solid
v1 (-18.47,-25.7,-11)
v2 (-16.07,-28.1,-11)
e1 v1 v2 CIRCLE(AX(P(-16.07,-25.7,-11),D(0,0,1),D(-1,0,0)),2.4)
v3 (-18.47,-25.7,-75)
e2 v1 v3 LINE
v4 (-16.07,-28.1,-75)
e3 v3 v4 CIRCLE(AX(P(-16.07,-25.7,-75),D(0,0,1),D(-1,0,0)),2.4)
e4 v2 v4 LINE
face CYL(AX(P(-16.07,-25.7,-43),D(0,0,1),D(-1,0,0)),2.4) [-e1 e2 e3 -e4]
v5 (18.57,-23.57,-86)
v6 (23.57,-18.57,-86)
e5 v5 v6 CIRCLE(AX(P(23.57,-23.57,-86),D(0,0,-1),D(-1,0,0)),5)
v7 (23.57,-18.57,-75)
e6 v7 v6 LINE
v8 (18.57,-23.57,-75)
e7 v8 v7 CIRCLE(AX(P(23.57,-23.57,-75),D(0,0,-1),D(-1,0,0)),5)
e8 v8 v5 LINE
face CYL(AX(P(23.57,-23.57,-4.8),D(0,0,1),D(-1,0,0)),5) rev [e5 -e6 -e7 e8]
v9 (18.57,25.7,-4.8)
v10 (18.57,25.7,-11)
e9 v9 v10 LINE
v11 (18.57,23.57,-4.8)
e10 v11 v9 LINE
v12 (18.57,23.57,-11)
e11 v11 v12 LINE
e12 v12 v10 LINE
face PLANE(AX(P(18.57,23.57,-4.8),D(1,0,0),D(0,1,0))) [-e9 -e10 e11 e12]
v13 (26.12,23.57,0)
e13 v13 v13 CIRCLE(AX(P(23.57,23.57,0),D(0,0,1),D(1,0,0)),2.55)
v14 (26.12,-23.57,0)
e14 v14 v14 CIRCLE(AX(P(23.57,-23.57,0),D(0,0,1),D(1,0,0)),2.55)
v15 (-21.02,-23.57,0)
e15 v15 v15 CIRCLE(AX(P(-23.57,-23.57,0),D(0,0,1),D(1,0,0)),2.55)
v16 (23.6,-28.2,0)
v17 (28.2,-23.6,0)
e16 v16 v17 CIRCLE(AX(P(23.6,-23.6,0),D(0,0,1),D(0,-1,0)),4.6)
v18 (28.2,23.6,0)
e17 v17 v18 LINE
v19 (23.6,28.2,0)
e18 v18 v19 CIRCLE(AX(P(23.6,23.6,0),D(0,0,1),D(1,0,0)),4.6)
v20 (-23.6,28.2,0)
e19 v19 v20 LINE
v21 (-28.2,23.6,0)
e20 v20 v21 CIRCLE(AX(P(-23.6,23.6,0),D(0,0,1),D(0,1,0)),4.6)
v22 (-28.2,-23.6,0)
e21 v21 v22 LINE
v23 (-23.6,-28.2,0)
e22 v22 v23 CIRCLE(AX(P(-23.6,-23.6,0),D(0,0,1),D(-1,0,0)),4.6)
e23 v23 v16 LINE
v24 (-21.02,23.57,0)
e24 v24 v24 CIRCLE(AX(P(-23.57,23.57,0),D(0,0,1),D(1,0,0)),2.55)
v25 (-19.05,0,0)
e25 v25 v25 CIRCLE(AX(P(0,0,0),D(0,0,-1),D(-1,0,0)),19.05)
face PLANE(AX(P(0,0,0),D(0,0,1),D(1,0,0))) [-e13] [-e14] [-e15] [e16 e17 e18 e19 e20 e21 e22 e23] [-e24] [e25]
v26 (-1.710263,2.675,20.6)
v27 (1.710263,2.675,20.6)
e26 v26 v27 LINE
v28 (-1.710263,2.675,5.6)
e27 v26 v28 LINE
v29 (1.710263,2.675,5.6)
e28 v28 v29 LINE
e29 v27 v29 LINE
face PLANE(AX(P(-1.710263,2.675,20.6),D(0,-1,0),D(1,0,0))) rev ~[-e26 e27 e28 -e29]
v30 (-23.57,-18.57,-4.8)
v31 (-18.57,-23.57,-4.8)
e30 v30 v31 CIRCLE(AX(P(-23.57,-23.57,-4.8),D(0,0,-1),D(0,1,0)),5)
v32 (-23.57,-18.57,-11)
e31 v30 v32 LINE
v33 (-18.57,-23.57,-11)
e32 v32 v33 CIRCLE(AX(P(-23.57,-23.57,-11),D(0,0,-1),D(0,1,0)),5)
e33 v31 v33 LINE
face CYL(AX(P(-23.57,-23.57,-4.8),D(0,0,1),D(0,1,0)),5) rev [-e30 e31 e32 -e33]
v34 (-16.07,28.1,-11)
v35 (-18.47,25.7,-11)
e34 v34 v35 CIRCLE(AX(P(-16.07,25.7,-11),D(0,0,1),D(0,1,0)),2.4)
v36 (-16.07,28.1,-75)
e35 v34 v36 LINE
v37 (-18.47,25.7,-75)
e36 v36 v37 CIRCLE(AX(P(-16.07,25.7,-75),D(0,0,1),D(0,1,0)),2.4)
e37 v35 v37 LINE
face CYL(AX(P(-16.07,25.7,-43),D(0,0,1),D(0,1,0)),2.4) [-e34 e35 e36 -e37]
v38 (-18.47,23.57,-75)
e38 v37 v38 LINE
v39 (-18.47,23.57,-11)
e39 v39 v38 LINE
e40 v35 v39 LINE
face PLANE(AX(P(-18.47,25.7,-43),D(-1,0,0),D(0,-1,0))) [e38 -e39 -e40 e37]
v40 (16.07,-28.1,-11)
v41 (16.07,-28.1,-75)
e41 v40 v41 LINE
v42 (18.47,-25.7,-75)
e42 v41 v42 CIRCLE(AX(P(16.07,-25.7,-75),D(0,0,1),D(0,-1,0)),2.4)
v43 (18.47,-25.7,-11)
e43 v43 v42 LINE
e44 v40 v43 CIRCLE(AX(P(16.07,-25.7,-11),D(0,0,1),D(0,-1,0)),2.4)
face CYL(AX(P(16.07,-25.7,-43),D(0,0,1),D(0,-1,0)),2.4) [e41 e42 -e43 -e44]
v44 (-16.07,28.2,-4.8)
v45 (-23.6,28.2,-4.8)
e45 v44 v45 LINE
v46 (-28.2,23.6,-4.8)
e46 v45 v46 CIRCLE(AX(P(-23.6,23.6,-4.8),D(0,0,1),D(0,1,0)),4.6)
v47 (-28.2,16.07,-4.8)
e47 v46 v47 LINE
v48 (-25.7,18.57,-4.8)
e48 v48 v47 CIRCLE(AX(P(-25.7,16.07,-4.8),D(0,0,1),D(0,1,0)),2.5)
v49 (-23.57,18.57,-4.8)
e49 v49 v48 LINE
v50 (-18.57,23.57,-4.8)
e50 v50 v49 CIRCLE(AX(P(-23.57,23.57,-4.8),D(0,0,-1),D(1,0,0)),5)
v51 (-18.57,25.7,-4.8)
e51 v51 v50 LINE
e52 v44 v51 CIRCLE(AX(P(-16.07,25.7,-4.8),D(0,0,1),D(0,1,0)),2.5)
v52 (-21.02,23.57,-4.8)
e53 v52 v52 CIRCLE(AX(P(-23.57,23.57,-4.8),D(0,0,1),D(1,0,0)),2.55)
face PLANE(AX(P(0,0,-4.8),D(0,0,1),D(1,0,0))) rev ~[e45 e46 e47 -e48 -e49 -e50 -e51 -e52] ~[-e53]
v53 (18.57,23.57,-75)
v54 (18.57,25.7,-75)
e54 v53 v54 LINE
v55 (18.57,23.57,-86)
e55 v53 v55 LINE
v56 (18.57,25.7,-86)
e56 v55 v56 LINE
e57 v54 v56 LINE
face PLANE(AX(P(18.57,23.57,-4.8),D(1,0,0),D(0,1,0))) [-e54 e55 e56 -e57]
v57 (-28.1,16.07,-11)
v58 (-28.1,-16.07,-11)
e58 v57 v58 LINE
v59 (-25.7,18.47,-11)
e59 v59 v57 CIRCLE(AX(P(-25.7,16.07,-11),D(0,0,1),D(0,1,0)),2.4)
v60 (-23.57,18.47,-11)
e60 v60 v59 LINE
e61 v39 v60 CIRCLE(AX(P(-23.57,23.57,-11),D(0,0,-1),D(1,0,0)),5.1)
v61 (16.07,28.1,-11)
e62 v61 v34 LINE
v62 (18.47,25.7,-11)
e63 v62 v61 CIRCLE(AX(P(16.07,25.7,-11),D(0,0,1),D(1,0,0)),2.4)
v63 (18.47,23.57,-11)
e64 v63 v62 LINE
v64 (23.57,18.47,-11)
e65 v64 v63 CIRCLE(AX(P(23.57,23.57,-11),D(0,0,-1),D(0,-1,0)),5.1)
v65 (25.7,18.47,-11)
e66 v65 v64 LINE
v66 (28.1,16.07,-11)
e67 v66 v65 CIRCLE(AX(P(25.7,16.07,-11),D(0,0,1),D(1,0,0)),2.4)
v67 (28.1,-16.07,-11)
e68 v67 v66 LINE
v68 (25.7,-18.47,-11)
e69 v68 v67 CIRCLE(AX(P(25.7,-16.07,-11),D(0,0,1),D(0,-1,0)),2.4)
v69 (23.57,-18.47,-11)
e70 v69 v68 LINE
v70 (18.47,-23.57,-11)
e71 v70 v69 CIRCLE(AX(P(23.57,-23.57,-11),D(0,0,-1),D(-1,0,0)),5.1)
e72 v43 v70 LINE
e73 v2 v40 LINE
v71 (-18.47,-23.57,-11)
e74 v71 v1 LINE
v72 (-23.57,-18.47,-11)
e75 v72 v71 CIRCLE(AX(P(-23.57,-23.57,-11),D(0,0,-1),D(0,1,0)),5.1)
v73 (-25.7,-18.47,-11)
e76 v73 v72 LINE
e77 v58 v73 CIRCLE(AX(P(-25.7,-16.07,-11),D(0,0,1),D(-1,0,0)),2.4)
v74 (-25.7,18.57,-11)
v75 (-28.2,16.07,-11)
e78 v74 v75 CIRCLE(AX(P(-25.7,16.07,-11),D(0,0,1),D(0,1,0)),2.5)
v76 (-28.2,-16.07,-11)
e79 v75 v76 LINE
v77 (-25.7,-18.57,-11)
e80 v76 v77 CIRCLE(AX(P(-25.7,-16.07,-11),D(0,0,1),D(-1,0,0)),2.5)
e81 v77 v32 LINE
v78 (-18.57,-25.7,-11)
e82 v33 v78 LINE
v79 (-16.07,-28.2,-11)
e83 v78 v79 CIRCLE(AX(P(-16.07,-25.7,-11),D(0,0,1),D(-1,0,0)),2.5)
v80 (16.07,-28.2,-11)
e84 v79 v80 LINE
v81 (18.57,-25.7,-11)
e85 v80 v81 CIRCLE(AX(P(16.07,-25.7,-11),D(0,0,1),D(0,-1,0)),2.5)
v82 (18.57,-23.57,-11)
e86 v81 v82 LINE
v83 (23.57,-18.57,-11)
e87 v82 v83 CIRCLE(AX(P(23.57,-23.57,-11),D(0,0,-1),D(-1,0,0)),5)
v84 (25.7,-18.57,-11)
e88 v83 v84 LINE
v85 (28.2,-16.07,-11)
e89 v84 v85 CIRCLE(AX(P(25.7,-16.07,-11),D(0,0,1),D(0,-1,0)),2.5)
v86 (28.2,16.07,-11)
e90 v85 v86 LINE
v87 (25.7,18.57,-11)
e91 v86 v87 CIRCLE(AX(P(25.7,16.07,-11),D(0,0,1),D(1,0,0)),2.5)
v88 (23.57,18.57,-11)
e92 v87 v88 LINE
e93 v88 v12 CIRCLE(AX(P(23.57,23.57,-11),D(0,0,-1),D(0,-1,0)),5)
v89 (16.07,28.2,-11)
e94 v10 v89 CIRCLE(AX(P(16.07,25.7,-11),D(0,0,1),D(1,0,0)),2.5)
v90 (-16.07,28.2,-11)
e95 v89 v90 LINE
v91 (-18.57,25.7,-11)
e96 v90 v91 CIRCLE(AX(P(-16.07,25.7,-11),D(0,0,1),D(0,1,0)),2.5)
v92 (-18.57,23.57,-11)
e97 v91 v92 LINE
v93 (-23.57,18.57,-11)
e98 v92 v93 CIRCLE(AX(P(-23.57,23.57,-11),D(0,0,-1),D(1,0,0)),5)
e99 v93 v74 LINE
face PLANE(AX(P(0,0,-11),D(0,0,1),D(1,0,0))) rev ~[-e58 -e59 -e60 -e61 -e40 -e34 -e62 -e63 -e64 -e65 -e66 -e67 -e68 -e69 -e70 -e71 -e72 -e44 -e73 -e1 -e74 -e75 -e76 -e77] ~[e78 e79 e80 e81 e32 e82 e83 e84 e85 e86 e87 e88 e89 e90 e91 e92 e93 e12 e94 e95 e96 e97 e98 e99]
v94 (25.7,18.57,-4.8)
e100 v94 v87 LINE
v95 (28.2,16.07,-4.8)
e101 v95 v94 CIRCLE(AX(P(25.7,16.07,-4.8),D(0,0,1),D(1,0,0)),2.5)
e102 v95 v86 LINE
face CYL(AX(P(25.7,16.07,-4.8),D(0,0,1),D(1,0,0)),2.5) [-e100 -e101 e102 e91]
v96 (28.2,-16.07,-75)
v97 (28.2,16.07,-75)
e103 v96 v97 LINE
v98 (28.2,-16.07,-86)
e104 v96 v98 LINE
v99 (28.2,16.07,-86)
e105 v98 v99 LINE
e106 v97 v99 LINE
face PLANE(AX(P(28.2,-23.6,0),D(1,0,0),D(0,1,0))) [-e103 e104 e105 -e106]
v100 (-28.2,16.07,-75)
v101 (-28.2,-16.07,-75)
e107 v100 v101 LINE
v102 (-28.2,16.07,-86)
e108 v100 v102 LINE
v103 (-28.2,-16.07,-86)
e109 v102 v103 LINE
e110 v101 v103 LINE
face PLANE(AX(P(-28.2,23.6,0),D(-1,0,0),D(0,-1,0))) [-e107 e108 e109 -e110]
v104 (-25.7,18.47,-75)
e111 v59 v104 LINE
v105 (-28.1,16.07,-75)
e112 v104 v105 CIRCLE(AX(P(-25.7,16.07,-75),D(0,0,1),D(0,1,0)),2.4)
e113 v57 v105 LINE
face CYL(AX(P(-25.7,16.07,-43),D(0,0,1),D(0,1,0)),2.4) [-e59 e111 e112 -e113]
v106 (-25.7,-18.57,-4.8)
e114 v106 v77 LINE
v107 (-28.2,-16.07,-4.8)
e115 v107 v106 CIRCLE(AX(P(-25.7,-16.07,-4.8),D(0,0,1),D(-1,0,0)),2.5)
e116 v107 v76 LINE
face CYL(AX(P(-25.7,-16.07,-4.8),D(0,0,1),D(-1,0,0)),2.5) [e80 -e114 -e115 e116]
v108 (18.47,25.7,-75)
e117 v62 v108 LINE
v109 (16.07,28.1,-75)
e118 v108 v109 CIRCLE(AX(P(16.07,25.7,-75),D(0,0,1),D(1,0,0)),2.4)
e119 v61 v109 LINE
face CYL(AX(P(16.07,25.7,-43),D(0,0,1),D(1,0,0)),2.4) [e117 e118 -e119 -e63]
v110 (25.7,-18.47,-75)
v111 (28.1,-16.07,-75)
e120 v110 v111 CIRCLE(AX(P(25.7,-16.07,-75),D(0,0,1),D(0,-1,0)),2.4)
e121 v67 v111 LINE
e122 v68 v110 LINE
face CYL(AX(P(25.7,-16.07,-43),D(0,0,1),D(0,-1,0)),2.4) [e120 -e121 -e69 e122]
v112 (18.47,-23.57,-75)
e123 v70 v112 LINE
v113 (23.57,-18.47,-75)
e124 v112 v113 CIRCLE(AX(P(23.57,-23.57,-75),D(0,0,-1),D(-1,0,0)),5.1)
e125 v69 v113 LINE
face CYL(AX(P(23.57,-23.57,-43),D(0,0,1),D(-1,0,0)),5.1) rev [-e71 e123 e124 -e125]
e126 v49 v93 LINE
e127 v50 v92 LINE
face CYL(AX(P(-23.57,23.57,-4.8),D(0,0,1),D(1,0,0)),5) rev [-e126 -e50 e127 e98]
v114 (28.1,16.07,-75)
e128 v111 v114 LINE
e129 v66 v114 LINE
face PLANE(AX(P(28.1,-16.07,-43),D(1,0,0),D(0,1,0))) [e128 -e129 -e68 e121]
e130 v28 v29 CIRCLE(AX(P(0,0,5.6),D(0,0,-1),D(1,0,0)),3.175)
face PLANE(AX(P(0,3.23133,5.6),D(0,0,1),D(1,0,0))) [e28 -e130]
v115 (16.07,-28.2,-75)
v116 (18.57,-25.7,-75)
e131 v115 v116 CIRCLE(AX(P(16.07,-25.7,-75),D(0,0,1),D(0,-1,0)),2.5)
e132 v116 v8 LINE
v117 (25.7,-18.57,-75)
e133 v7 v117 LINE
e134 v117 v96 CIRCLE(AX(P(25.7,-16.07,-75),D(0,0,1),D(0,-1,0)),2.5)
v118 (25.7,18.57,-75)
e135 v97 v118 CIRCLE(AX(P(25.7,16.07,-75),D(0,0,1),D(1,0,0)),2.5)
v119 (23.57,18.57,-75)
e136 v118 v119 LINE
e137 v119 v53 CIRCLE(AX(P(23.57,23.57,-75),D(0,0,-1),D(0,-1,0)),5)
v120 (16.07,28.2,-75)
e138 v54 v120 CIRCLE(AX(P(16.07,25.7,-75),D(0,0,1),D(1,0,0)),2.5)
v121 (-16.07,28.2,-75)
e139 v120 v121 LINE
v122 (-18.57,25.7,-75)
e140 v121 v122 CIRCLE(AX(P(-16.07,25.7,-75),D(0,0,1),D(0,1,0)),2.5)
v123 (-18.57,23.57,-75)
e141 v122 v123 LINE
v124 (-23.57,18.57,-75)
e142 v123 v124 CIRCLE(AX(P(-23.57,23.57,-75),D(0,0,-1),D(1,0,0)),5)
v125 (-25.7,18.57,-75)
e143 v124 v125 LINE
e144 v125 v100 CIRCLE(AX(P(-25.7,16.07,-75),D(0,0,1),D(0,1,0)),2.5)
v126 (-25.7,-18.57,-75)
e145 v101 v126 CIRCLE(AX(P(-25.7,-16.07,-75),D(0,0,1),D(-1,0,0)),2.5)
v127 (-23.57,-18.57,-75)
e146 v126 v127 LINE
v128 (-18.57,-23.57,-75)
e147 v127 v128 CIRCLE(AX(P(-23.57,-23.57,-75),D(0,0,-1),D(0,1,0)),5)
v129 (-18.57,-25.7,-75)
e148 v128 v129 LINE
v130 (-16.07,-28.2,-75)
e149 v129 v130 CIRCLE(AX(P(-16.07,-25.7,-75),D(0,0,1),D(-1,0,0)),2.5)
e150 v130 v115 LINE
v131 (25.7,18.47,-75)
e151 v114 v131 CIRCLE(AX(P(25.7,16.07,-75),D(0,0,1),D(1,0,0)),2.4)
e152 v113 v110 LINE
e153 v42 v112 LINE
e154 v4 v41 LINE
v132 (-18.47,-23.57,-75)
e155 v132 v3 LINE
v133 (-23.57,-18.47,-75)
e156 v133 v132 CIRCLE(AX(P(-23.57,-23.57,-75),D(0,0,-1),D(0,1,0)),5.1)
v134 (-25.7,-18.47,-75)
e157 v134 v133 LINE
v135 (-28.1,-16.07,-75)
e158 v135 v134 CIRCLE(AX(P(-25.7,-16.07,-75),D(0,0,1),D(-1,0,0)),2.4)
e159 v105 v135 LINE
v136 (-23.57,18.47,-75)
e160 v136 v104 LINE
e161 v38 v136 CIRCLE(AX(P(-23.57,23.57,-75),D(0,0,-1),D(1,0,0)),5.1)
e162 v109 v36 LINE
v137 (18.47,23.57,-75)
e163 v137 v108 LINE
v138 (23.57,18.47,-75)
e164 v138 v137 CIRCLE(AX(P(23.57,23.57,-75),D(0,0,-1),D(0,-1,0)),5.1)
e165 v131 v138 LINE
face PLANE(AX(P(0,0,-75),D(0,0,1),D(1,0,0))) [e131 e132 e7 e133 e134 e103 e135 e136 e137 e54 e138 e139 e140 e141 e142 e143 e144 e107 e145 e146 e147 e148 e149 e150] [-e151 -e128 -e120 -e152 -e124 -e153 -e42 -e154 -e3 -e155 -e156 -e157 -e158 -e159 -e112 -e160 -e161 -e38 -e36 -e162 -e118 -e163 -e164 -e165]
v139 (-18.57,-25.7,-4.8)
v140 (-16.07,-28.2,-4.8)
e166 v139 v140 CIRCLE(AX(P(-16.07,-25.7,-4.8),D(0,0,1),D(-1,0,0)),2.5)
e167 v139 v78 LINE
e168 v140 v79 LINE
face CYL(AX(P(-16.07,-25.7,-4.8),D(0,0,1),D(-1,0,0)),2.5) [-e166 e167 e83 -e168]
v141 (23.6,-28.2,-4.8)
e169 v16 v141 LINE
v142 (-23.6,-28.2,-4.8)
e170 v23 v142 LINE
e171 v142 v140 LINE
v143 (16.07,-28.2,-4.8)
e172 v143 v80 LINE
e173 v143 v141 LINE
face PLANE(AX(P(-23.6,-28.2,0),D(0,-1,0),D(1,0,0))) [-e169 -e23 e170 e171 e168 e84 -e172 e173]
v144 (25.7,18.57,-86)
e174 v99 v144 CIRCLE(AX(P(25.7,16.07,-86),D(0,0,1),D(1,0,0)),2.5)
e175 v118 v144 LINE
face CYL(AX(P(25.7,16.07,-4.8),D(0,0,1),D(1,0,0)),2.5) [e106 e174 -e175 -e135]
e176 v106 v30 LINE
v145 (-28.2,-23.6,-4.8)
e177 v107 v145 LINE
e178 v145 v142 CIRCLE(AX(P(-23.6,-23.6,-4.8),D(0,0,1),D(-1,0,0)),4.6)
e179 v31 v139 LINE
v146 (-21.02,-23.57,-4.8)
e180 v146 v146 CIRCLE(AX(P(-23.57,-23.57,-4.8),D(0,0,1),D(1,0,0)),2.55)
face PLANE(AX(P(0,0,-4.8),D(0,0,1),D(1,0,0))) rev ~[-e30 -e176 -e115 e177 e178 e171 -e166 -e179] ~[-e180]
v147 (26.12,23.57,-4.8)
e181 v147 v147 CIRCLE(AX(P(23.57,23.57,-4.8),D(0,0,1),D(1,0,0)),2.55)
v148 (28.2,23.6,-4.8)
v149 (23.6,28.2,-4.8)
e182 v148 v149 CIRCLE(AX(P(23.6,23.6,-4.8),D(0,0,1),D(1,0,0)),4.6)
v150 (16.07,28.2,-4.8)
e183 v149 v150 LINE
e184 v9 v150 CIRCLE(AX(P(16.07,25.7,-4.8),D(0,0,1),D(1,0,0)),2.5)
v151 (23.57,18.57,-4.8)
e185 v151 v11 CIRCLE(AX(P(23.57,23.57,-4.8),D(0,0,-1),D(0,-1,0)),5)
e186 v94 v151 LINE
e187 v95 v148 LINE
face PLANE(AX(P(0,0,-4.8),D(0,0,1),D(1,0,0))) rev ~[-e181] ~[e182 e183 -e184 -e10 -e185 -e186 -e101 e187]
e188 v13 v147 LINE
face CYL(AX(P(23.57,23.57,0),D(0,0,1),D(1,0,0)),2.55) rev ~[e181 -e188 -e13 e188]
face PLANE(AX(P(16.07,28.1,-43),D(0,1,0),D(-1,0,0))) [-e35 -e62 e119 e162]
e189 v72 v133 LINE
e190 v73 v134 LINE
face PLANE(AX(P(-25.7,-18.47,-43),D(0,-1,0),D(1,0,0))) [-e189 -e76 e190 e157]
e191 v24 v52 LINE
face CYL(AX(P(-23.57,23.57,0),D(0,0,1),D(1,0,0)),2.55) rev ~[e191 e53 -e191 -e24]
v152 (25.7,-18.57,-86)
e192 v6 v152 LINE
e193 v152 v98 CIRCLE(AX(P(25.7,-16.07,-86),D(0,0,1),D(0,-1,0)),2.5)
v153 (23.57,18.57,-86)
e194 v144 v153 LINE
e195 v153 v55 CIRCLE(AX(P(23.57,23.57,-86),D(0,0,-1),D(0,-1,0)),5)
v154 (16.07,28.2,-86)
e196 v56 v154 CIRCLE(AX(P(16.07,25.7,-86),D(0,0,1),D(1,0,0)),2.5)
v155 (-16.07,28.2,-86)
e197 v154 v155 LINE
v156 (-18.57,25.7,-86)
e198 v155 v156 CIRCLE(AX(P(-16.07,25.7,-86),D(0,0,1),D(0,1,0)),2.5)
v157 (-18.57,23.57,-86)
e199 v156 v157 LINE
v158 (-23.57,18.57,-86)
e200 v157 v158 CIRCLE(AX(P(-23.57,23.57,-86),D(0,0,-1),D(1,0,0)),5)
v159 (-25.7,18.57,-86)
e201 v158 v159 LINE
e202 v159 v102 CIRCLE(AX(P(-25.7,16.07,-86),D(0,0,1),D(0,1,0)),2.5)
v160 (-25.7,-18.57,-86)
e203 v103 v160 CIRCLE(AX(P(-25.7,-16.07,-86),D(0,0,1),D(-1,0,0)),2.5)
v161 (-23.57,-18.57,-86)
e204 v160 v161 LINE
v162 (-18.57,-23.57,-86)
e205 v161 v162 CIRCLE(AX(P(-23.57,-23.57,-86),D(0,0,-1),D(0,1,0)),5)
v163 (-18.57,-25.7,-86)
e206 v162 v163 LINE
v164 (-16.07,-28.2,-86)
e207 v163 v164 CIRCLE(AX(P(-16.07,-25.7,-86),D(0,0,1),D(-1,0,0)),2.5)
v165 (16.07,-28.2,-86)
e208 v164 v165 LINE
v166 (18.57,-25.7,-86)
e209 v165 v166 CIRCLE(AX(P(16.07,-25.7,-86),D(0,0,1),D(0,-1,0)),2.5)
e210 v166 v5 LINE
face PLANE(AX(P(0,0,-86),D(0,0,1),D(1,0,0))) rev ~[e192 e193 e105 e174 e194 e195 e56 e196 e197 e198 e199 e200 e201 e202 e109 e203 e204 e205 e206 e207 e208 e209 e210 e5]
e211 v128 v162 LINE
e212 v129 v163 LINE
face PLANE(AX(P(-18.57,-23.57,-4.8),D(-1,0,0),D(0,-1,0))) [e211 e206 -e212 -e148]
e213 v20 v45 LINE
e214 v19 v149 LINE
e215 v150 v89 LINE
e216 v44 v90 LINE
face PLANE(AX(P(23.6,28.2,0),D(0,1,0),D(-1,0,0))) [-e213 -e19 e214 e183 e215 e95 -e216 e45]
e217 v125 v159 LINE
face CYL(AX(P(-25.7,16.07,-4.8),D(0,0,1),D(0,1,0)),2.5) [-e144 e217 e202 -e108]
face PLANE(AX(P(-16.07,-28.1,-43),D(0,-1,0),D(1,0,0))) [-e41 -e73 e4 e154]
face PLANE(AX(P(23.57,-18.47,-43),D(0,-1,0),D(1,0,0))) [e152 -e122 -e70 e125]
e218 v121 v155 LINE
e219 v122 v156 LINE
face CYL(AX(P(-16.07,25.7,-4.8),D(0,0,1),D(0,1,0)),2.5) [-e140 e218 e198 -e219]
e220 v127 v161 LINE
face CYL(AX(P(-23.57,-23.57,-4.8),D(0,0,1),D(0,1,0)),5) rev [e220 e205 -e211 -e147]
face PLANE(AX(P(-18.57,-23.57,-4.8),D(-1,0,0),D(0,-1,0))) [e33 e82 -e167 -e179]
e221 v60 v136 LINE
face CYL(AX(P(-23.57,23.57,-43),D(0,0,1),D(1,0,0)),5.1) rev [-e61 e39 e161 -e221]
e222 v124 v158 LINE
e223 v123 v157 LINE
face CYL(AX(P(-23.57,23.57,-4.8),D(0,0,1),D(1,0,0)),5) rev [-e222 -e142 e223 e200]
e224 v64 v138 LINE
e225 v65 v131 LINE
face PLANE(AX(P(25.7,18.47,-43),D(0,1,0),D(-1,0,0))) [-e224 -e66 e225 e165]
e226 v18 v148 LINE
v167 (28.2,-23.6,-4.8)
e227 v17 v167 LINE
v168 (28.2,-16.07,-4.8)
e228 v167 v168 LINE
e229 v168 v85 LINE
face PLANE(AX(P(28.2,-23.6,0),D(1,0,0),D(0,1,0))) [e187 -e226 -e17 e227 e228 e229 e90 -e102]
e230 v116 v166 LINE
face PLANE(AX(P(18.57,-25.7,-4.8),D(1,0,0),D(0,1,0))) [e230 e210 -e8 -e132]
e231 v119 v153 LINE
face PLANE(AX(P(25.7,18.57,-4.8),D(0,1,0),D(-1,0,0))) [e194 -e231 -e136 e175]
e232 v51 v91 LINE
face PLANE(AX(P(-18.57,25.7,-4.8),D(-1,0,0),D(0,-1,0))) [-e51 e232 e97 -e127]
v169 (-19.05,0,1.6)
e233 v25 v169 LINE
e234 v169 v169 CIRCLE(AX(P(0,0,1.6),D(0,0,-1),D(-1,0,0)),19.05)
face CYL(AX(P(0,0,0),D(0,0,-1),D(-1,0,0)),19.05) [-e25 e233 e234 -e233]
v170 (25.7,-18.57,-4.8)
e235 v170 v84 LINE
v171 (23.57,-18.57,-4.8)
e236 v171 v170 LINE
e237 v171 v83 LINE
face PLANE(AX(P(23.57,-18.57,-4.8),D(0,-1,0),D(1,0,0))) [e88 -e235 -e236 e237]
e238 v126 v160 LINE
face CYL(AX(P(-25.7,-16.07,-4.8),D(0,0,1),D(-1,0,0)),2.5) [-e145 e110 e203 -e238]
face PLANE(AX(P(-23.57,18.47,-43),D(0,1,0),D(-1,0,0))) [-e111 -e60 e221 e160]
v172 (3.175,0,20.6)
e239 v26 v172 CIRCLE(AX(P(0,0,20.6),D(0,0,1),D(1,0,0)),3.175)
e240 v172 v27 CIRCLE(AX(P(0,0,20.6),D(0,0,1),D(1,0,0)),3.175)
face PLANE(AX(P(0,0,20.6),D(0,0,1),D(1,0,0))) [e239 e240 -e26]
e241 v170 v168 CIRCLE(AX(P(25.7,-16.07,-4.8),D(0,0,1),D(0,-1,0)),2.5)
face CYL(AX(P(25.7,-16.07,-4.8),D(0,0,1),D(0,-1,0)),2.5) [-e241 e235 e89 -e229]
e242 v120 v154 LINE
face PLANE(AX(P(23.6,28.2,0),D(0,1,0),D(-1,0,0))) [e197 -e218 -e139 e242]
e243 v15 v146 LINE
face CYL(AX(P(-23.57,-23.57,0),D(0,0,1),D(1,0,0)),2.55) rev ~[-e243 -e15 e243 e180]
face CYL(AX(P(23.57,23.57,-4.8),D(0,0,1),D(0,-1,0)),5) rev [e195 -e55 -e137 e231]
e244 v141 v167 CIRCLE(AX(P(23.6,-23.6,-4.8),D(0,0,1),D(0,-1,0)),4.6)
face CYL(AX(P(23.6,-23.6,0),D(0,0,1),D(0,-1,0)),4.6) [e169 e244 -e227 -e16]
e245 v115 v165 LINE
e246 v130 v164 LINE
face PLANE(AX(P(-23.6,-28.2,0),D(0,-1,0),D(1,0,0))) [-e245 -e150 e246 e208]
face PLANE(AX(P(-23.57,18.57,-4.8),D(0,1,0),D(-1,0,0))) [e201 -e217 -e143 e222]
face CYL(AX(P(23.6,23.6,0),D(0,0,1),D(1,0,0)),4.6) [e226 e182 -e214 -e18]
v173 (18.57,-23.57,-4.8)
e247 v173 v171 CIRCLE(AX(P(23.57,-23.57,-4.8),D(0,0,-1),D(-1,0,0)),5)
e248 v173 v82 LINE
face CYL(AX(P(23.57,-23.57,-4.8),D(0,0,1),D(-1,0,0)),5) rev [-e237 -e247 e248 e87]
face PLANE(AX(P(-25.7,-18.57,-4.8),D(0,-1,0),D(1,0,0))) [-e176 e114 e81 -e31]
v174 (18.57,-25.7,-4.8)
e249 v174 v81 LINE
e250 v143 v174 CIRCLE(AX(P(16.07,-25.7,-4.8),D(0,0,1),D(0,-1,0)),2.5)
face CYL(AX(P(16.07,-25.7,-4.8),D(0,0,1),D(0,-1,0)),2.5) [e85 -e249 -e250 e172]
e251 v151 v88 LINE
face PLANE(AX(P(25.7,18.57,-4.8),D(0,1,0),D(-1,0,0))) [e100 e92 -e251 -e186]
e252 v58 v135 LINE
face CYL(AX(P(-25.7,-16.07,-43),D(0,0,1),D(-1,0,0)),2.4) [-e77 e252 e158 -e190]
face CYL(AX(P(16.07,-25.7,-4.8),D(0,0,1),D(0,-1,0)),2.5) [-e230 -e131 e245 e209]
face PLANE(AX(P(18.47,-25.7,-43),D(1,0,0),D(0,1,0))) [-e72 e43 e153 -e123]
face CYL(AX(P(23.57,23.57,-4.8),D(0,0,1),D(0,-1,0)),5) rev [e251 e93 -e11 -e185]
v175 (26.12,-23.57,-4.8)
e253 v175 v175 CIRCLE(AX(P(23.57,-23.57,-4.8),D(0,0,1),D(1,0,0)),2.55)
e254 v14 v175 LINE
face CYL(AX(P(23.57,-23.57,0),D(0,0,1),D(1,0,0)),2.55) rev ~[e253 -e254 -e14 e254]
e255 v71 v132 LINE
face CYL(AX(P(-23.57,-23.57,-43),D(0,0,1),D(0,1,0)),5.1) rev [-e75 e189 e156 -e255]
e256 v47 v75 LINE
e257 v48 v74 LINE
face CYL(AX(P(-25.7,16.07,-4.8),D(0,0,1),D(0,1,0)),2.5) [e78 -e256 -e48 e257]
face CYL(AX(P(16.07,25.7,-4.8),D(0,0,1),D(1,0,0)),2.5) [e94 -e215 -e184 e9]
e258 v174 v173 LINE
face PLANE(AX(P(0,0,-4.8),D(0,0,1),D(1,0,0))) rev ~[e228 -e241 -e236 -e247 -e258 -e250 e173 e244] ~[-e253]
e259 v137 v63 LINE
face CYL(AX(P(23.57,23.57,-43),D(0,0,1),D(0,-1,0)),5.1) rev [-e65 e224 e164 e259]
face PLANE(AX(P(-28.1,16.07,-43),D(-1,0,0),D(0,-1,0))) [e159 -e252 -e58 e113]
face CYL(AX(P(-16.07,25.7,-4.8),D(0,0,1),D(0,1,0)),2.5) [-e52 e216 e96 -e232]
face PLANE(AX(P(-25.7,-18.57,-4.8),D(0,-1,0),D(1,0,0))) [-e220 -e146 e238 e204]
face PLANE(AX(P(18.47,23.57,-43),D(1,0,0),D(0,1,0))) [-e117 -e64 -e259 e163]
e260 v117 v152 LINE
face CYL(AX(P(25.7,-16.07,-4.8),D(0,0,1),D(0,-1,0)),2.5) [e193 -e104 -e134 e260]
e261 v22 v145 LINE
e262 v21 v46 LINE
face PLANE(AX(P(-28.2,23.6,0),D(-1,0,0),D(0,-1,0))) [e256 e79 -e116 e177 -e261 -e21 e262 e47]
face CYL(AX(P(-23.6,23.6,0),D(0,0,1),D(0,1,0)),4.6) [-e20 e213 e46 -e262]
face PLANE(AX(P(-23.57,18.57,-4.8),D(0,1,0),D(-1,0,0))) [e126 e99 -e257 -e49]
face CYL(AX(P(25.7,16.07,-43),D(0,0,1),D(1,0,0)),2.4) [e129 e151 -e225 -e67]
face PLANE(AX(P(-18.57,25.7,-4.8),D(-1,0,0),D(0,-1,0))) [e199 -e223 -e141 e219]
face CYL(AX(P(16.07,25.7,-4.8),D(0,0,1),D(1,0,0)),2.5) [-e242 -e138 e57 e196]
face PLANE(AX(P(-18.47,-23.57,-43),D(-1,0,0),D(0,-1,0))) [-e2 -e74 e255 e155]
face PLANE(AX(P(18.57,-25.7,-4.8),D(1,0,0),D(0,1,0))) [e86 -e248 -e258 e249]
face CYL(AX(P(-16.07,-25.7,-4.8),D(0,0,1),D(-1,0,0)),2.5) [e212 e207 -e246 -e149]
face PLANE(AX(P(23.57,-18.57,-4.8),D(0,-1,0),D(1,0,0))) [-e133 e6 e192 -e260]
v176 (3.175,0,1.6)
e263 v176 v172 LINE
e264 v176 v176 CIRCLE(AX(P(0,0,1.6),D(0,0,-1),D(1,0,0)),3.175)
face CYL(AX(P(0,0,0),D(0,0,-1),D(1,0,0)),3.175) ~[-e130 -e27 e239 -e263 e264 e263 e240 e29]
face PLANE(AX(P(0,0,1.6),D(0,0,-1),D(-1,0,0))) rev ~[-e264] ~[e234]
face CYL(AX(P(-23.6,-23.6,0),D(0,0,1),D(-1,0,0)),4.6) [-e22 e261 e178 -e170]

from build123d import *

# Parameters (mm, degrees)
SKETCH1_R           = 3.175
BOSS_EXTRUDE1_DEPTH = 20.6
SKETCH2_R           = 19.05
BOSS_EXTRUDE2_DEPTH = 1.6
BOSS_EXTRUDE3_DEPTH = 4.8
BOSS_EXTRUDE4_DEPTH = 81.2
SKETCH7_W           = 3.420526276
SKETCH7_H           = 1.112659396
CUT_EXTRUDE5_DEPTH  = 15
CUT_EXTRUDE6_REACH  = 88
SKETCH8_R           = 2.55
CUT_EXTRUDE7_DEPTH  = 32


with BuildPart() as part:
    # Sketch1 → Boss-Extrude1 (new body)
    with BuildSketch(Plane.XY):
        Circle(SKETCH1_R)
    extrude(amount=BOSS_EXTRUDE1_DEPTH)

    # Sketch2 → Boss-Extrude2 (add)
    with BuildSketch(Plane(origin=(0, 0, 0), x_dir=(-1, 0, 0), z_dir=(0, 0, -1))):
        Circle(SKETCH2_R)
    extrude(amount=-BOSS_EXTRUDE2_DEPTH)

    # Sketch3 → Boss-Extrude3 (add)
    with BuildSketch(Plane(origin=(0, 0, 0), x_dir=(-1, 0, 0), z_dir=(0, 0, -1))):
        with BuildLine():
            Line((23.6, -28.2), (-23.6, -28.2))
            ThreePointArc((-23.6, -28.2), (-26.852691193, -26.852691193), (-28.2, -23.6))
            Line((-28.2, -23.6), (-28.2, 23.6))
            ThreePointArc((-28.2, 23.6), (-26.852691193, 26.852691193), (-23.6, 28.2))
            Line((-23.6, 28.2), (23.6, 28.2))
            ThreePointArc((23.6, 28.2), (26.852691193, 26.852691193), (28.2, 23.6))
            Line((28.2, 23.6), (28.2, -23.6))
            ThreePointArc((28.2, -23.6), (26.852691193, -26.852691193), (23.6, -28.2))
        make_face()
    extrude(amount=BOSS_EXTRUDE3_DEPTH)

    # Sketch4 → Boss-Extrude4 (add)
    with BuildSketch(Plane(origin=(0, 0, -4.8), x_dir=(-1, 0, 0), z_dir=(0, 0, -1))):
        with BuildLine():
            Line((-18.57, 23.57), (-18.57, 25.7))
            ThreePointArc((-18.57, 25.7), (-17.837766953, 27.467766953), (-16.07, 28.2))
            Line((-16.07, 28.2), (16.07, 28.2))
            ThreePointArc((16.07, 28.2), (17.837766953, 27.467766953), (18.57, 25.7))
            Line((18.57, 25.7), (18.57, 23.57))
            ThreePointArc((18.57, 23.57), (20.034466094, 20.034466094), (23.57, 18.57))
            Line((23.57, 18.57), (25.7, 18.57))
            ThreePointArc((25.7, 18.57), (27.467766953, 17.837766953), (28.2, 16.07))
            Line((28.2, 16.07), (28.2, -16.07))
            ThreePointArc((28.2, -16.07), (27.467766953, -17.837766953), (25.7, -18.57))
            Line((25.7, -18.57), (23.57, -18.57))
            ThreePointArc((23.57, -18.57), (20.034466094, -20.034466094), (18.57, -23.57))
            Line((18.57, -23.57), (18.57, -25.7))
            ThreePointArc((18.57, -25.7), (17.837766953, -27.467766953), (16.07, -28.2))
            Line((16.07, -28.2), (-16.07, -28.2))
            ThreePointArc((-16.07, -28.2), (-17.837766953, -27.467766953), (-18.57, -25.7))
            Line((-18.57, -25.7), (-18.57, -23.57))
            ThreePointArc((-18.57, -23.57), (-20.034466094, -20.034466094), (-23.57, -18.57))
            Line((-23.57, -18.57), (-25.7, -18.57))
            ThreePointArc((-25.7, -18.57), (-27.467766953, -17.837766953), (-28.2, -16.07))
            Line((-28.2, -16.07), (-28.2, 16.07))
            ThreePointArc((-28.2, 16.07), (-27.467766953, 17.837766953), (-25.7, 18.57))
            Line((-25.7, 18.57), (-23.57, 18.57))
            ThreePointArc((-23.57, 18.57), (-20.034466094, 20.034466094), (-18.57, 23.57))
        make_face()
    extrude(amount=BOSS_EXTRUDE4_DEPTH)

    # Sketch7 → Cut-Extrude5 (cut)
    with BuildSketch(Plane.XY.offset(20.6)):
        with Locations((0, 3.231329698)):
            Rectangle(SKETCH7_W, SKETCH7_H)
    extrude(amount=-CUT_EXTRUDE5_DEPTH, mode=Mode.SUBTRACT)

    # Sketch8 → Cut-Extrude6 (cut, up to next)
    with BuildSketch(Plane.XY, mode=Mode.PRIVATE) as cut_extrude6_sk1:
        with Locations((-23.57, 23.57)):
            Circle(SKETCH8_R)
    cut_extrude6_tool1 = extrude(cut_extrude6_sk1.sketch, amount=-CUT_EXTRUDE6_REACH, mode=Mode.PRIVATE) & part.part
    add(cut_extrude6_tool1.solids().sort_by_distance((-23.57, 23.57, 0))[0], mode=Mode.SUBTRACT)
    # Sketch8 → Cut-Extrude6 (cut, up to next)
    with BuildSketch(Plane.XY, mode=Mode.PRIVATE) as cut_extrude6_sk2:
        with Locations((23.57, 23.57)):
            Circle(SKETCH8_R)
    cut_extrude6_tool2 = extrude(cut_extrude6_sk2.sketch, amount=-CUT_EXTRUDE6_REACH, mode=Mode.PRIVATE) & part.part
    add(cut_extrude6_tool2.solids().sort_by_distance((23.57, 23.57, 0))[0], mode=Mode.SUBTRACT)
    # Sketch8 → Cut-Extrude6 (cut, up to next)
    with BuildSketch(Plane.XY, mode=Mode.PRIVATE) as cut_extrude6_sk3:
        with Locations((23.57, -23.57)):
            Circle(SKETCH8_R)
    cut_extrude6_tool3 = extrude(cut_extrude6_sk3.sketch, amount=-CUT_EXTRUDE6_REACH, mode=Mode.PRIVATE) & part.part
    add(cut_extrude6_tool3.solids().sort_by_distance((23.57, -23.57, 0))[0], mode=Mode.SUBTRACT)
    # Sketch8 → Cut-Extrude6 (cut, up to next)
    with BuildSketch(Plane.XY, mode=Mode.PRIVATE) as cut_extrude6_sk4:
        with Locations((-23.57, -23.57)):
            Circle(SKETCH8_R)
    cut_extrude6_tool4 = extrude(cut_extrude6_sk4.sketch, amount=-CUT_EXTRUDE6_REACH, mode=Mode.PRIVATE) & part.part
    add(cut_extrude6_tool4.solids().sort_by_distance((-23.57, -23.57, 0))[0], mode=Mode.SUBTRACT)

    # Sketch9 → Cut-Extrude7 (cut, symmetric)
    with BuildSketch(Plane.XY.offset(-43)):
        with BuildLine():
            Line((18.57, 23.57), (18.57, 25.7))
            ThreePointArc((18.57, 25.7), (17.837766953, 27.467766953), (16.07, 28.2))
            Line((16.07, 28.2), (-16.07, 28.2))
            ThreePointArc((-16.07, 28.2), (-17.837766953, 27.467766953), (-18.57, 25.7))
            Line((-18.57, 25.7), (-18.57, 23.57))
            ThreePointArc((-18.57, 23.57), (-20.034466094, 20.034466094), (-23.57, 18.57))
            Line((-23.57, 18.57), (-25.7, 18.57))
            ThreePointArc((-25.7, 18.57), (-27.467766953, 17.837766953), (-28.2, 16.07))
            Line((-28.2, 16.07), (-28.2, -16.07))
            ThreePointArc((-28.2, -16.07), (-27.467766953, -17.837766953), (-25.7, -18.57))
            Line((-25.7, -18.57), (-23.57, -18.57))
            ThreePointArc((-23.57, -18.57), (-20.034466094, -20.034466094), (-18.57, -23.57))
            Line((-18.57, -23.57), (-18.57, -25.7))
            ThreePointArc((-18.57, -25.7), (-17.837766953, -27.467766953), (-16.07, -28.2))
            Line((-16.07, -28.2), (16.07, -28.2))
            ThreePointArc((16.07, -28.2), (17.837766953, -27.467766953), (18.57, -25.7))
            Line((18.57, -25.7), (18.57, -23.57))
            ThreePointArc((18.57, -23.57), (20.034466094, -20.034466094), (23.57, -18.57))
            Line((23.57, -18.57), (25.7, -18.57))
            ThreePointArc((25.7, -18.57), (27.467766953, -17.837766953), (28.2, -16.07))
            Line((28.2, -16.07), (28.2, 16.07))
            ThreePointArc((28.2, 16.07), (27.467766953, 17.837766953), (25.7, 18.57))
            Line((25.7, 18.57), (23.57, 18.57))
            ThreePointArc((23.57, 18.57), (20.034466094, 20.034466094), (18.57, 23.57))
        make_face()
        with BuildLine():
            Line((18.47, 23.57), (18.47, 25.7))
            ThreePointArc((18.47, 25.7), (17.767056275, 27.397056275), (16.07, 28.1))
            Line((16.07, 28.1), (-16.07, 28.1))
            ThreePointArc((-16.07, 28.1), (-17.767056275, 27.397056275), (-18.47, 25.7))
            Line((-18.47, 25.7), (-18.47, 23.57))
            ThreePointArc((-18.47, 23.57), (-19.963755416, 19.963755416), (-23.57, 18.47))
            Line((-23.57, 18.47), (-25.7, 18.47))
            ThreePointArc((-25.7, 18.47), (-27.397056275, 17.767056275), (-28.1, 16.07))
            Line((-28.1, 16.07), (-28.1, -16.07))
            ThreePointArc((-28.1, -16.07), (-27.397056275, -17.767056275), (-25.7, -18.47))
            Line((-25.7, -18.47), (-23.57, -18.47))
            ThreePointArc((-23.57, -18.47), (-19.963755416, -19.963755416), (-18.47, -23.57))
            Line((-18.47, -23.57), (-18.47, -25.7))
            ThreePointArc((-18.47, -25.7), (-17.767056275, -27.397056275), (-16.07, -28.1))
            Line((-16.07, -28.1), (16.07, -28.1))
            ThreePointArc((16.07, -28.1), (17.767056275, -27.397056275), (18.47, -25.7))
            Line((18.47, -25.7), (18.47, -23.57))
            ThreePointArc((18.47, -23.57), (19.963755416, -19.963755416), (23.57, -18.47))
            Line((23.57, -18.47), (25.7, -18.47))
            ThreePointArc((25.7, -18.47), (27.397056275, -17.767056275), (28.1, -16.07))
            Line((28.1, -16.07), (28.1, 16.07))
            ThreePointArc((28.1, 16.07), (27.397056275, 17.767056275), (25.7, 18.47))
            Line((25.7, 18.47), (23.57, 18.47))
            ThreePointArc((23.57, 18.47), (19.963755416, 19.963755416), (18.47, 23.57))
        make_face(mode=Mode.SUBTRACT)
    extrude(amount=CUT_EXTRUDE7_DEPTH, both=True, mode=Mode.SUBTRACT)


solid = part.part
